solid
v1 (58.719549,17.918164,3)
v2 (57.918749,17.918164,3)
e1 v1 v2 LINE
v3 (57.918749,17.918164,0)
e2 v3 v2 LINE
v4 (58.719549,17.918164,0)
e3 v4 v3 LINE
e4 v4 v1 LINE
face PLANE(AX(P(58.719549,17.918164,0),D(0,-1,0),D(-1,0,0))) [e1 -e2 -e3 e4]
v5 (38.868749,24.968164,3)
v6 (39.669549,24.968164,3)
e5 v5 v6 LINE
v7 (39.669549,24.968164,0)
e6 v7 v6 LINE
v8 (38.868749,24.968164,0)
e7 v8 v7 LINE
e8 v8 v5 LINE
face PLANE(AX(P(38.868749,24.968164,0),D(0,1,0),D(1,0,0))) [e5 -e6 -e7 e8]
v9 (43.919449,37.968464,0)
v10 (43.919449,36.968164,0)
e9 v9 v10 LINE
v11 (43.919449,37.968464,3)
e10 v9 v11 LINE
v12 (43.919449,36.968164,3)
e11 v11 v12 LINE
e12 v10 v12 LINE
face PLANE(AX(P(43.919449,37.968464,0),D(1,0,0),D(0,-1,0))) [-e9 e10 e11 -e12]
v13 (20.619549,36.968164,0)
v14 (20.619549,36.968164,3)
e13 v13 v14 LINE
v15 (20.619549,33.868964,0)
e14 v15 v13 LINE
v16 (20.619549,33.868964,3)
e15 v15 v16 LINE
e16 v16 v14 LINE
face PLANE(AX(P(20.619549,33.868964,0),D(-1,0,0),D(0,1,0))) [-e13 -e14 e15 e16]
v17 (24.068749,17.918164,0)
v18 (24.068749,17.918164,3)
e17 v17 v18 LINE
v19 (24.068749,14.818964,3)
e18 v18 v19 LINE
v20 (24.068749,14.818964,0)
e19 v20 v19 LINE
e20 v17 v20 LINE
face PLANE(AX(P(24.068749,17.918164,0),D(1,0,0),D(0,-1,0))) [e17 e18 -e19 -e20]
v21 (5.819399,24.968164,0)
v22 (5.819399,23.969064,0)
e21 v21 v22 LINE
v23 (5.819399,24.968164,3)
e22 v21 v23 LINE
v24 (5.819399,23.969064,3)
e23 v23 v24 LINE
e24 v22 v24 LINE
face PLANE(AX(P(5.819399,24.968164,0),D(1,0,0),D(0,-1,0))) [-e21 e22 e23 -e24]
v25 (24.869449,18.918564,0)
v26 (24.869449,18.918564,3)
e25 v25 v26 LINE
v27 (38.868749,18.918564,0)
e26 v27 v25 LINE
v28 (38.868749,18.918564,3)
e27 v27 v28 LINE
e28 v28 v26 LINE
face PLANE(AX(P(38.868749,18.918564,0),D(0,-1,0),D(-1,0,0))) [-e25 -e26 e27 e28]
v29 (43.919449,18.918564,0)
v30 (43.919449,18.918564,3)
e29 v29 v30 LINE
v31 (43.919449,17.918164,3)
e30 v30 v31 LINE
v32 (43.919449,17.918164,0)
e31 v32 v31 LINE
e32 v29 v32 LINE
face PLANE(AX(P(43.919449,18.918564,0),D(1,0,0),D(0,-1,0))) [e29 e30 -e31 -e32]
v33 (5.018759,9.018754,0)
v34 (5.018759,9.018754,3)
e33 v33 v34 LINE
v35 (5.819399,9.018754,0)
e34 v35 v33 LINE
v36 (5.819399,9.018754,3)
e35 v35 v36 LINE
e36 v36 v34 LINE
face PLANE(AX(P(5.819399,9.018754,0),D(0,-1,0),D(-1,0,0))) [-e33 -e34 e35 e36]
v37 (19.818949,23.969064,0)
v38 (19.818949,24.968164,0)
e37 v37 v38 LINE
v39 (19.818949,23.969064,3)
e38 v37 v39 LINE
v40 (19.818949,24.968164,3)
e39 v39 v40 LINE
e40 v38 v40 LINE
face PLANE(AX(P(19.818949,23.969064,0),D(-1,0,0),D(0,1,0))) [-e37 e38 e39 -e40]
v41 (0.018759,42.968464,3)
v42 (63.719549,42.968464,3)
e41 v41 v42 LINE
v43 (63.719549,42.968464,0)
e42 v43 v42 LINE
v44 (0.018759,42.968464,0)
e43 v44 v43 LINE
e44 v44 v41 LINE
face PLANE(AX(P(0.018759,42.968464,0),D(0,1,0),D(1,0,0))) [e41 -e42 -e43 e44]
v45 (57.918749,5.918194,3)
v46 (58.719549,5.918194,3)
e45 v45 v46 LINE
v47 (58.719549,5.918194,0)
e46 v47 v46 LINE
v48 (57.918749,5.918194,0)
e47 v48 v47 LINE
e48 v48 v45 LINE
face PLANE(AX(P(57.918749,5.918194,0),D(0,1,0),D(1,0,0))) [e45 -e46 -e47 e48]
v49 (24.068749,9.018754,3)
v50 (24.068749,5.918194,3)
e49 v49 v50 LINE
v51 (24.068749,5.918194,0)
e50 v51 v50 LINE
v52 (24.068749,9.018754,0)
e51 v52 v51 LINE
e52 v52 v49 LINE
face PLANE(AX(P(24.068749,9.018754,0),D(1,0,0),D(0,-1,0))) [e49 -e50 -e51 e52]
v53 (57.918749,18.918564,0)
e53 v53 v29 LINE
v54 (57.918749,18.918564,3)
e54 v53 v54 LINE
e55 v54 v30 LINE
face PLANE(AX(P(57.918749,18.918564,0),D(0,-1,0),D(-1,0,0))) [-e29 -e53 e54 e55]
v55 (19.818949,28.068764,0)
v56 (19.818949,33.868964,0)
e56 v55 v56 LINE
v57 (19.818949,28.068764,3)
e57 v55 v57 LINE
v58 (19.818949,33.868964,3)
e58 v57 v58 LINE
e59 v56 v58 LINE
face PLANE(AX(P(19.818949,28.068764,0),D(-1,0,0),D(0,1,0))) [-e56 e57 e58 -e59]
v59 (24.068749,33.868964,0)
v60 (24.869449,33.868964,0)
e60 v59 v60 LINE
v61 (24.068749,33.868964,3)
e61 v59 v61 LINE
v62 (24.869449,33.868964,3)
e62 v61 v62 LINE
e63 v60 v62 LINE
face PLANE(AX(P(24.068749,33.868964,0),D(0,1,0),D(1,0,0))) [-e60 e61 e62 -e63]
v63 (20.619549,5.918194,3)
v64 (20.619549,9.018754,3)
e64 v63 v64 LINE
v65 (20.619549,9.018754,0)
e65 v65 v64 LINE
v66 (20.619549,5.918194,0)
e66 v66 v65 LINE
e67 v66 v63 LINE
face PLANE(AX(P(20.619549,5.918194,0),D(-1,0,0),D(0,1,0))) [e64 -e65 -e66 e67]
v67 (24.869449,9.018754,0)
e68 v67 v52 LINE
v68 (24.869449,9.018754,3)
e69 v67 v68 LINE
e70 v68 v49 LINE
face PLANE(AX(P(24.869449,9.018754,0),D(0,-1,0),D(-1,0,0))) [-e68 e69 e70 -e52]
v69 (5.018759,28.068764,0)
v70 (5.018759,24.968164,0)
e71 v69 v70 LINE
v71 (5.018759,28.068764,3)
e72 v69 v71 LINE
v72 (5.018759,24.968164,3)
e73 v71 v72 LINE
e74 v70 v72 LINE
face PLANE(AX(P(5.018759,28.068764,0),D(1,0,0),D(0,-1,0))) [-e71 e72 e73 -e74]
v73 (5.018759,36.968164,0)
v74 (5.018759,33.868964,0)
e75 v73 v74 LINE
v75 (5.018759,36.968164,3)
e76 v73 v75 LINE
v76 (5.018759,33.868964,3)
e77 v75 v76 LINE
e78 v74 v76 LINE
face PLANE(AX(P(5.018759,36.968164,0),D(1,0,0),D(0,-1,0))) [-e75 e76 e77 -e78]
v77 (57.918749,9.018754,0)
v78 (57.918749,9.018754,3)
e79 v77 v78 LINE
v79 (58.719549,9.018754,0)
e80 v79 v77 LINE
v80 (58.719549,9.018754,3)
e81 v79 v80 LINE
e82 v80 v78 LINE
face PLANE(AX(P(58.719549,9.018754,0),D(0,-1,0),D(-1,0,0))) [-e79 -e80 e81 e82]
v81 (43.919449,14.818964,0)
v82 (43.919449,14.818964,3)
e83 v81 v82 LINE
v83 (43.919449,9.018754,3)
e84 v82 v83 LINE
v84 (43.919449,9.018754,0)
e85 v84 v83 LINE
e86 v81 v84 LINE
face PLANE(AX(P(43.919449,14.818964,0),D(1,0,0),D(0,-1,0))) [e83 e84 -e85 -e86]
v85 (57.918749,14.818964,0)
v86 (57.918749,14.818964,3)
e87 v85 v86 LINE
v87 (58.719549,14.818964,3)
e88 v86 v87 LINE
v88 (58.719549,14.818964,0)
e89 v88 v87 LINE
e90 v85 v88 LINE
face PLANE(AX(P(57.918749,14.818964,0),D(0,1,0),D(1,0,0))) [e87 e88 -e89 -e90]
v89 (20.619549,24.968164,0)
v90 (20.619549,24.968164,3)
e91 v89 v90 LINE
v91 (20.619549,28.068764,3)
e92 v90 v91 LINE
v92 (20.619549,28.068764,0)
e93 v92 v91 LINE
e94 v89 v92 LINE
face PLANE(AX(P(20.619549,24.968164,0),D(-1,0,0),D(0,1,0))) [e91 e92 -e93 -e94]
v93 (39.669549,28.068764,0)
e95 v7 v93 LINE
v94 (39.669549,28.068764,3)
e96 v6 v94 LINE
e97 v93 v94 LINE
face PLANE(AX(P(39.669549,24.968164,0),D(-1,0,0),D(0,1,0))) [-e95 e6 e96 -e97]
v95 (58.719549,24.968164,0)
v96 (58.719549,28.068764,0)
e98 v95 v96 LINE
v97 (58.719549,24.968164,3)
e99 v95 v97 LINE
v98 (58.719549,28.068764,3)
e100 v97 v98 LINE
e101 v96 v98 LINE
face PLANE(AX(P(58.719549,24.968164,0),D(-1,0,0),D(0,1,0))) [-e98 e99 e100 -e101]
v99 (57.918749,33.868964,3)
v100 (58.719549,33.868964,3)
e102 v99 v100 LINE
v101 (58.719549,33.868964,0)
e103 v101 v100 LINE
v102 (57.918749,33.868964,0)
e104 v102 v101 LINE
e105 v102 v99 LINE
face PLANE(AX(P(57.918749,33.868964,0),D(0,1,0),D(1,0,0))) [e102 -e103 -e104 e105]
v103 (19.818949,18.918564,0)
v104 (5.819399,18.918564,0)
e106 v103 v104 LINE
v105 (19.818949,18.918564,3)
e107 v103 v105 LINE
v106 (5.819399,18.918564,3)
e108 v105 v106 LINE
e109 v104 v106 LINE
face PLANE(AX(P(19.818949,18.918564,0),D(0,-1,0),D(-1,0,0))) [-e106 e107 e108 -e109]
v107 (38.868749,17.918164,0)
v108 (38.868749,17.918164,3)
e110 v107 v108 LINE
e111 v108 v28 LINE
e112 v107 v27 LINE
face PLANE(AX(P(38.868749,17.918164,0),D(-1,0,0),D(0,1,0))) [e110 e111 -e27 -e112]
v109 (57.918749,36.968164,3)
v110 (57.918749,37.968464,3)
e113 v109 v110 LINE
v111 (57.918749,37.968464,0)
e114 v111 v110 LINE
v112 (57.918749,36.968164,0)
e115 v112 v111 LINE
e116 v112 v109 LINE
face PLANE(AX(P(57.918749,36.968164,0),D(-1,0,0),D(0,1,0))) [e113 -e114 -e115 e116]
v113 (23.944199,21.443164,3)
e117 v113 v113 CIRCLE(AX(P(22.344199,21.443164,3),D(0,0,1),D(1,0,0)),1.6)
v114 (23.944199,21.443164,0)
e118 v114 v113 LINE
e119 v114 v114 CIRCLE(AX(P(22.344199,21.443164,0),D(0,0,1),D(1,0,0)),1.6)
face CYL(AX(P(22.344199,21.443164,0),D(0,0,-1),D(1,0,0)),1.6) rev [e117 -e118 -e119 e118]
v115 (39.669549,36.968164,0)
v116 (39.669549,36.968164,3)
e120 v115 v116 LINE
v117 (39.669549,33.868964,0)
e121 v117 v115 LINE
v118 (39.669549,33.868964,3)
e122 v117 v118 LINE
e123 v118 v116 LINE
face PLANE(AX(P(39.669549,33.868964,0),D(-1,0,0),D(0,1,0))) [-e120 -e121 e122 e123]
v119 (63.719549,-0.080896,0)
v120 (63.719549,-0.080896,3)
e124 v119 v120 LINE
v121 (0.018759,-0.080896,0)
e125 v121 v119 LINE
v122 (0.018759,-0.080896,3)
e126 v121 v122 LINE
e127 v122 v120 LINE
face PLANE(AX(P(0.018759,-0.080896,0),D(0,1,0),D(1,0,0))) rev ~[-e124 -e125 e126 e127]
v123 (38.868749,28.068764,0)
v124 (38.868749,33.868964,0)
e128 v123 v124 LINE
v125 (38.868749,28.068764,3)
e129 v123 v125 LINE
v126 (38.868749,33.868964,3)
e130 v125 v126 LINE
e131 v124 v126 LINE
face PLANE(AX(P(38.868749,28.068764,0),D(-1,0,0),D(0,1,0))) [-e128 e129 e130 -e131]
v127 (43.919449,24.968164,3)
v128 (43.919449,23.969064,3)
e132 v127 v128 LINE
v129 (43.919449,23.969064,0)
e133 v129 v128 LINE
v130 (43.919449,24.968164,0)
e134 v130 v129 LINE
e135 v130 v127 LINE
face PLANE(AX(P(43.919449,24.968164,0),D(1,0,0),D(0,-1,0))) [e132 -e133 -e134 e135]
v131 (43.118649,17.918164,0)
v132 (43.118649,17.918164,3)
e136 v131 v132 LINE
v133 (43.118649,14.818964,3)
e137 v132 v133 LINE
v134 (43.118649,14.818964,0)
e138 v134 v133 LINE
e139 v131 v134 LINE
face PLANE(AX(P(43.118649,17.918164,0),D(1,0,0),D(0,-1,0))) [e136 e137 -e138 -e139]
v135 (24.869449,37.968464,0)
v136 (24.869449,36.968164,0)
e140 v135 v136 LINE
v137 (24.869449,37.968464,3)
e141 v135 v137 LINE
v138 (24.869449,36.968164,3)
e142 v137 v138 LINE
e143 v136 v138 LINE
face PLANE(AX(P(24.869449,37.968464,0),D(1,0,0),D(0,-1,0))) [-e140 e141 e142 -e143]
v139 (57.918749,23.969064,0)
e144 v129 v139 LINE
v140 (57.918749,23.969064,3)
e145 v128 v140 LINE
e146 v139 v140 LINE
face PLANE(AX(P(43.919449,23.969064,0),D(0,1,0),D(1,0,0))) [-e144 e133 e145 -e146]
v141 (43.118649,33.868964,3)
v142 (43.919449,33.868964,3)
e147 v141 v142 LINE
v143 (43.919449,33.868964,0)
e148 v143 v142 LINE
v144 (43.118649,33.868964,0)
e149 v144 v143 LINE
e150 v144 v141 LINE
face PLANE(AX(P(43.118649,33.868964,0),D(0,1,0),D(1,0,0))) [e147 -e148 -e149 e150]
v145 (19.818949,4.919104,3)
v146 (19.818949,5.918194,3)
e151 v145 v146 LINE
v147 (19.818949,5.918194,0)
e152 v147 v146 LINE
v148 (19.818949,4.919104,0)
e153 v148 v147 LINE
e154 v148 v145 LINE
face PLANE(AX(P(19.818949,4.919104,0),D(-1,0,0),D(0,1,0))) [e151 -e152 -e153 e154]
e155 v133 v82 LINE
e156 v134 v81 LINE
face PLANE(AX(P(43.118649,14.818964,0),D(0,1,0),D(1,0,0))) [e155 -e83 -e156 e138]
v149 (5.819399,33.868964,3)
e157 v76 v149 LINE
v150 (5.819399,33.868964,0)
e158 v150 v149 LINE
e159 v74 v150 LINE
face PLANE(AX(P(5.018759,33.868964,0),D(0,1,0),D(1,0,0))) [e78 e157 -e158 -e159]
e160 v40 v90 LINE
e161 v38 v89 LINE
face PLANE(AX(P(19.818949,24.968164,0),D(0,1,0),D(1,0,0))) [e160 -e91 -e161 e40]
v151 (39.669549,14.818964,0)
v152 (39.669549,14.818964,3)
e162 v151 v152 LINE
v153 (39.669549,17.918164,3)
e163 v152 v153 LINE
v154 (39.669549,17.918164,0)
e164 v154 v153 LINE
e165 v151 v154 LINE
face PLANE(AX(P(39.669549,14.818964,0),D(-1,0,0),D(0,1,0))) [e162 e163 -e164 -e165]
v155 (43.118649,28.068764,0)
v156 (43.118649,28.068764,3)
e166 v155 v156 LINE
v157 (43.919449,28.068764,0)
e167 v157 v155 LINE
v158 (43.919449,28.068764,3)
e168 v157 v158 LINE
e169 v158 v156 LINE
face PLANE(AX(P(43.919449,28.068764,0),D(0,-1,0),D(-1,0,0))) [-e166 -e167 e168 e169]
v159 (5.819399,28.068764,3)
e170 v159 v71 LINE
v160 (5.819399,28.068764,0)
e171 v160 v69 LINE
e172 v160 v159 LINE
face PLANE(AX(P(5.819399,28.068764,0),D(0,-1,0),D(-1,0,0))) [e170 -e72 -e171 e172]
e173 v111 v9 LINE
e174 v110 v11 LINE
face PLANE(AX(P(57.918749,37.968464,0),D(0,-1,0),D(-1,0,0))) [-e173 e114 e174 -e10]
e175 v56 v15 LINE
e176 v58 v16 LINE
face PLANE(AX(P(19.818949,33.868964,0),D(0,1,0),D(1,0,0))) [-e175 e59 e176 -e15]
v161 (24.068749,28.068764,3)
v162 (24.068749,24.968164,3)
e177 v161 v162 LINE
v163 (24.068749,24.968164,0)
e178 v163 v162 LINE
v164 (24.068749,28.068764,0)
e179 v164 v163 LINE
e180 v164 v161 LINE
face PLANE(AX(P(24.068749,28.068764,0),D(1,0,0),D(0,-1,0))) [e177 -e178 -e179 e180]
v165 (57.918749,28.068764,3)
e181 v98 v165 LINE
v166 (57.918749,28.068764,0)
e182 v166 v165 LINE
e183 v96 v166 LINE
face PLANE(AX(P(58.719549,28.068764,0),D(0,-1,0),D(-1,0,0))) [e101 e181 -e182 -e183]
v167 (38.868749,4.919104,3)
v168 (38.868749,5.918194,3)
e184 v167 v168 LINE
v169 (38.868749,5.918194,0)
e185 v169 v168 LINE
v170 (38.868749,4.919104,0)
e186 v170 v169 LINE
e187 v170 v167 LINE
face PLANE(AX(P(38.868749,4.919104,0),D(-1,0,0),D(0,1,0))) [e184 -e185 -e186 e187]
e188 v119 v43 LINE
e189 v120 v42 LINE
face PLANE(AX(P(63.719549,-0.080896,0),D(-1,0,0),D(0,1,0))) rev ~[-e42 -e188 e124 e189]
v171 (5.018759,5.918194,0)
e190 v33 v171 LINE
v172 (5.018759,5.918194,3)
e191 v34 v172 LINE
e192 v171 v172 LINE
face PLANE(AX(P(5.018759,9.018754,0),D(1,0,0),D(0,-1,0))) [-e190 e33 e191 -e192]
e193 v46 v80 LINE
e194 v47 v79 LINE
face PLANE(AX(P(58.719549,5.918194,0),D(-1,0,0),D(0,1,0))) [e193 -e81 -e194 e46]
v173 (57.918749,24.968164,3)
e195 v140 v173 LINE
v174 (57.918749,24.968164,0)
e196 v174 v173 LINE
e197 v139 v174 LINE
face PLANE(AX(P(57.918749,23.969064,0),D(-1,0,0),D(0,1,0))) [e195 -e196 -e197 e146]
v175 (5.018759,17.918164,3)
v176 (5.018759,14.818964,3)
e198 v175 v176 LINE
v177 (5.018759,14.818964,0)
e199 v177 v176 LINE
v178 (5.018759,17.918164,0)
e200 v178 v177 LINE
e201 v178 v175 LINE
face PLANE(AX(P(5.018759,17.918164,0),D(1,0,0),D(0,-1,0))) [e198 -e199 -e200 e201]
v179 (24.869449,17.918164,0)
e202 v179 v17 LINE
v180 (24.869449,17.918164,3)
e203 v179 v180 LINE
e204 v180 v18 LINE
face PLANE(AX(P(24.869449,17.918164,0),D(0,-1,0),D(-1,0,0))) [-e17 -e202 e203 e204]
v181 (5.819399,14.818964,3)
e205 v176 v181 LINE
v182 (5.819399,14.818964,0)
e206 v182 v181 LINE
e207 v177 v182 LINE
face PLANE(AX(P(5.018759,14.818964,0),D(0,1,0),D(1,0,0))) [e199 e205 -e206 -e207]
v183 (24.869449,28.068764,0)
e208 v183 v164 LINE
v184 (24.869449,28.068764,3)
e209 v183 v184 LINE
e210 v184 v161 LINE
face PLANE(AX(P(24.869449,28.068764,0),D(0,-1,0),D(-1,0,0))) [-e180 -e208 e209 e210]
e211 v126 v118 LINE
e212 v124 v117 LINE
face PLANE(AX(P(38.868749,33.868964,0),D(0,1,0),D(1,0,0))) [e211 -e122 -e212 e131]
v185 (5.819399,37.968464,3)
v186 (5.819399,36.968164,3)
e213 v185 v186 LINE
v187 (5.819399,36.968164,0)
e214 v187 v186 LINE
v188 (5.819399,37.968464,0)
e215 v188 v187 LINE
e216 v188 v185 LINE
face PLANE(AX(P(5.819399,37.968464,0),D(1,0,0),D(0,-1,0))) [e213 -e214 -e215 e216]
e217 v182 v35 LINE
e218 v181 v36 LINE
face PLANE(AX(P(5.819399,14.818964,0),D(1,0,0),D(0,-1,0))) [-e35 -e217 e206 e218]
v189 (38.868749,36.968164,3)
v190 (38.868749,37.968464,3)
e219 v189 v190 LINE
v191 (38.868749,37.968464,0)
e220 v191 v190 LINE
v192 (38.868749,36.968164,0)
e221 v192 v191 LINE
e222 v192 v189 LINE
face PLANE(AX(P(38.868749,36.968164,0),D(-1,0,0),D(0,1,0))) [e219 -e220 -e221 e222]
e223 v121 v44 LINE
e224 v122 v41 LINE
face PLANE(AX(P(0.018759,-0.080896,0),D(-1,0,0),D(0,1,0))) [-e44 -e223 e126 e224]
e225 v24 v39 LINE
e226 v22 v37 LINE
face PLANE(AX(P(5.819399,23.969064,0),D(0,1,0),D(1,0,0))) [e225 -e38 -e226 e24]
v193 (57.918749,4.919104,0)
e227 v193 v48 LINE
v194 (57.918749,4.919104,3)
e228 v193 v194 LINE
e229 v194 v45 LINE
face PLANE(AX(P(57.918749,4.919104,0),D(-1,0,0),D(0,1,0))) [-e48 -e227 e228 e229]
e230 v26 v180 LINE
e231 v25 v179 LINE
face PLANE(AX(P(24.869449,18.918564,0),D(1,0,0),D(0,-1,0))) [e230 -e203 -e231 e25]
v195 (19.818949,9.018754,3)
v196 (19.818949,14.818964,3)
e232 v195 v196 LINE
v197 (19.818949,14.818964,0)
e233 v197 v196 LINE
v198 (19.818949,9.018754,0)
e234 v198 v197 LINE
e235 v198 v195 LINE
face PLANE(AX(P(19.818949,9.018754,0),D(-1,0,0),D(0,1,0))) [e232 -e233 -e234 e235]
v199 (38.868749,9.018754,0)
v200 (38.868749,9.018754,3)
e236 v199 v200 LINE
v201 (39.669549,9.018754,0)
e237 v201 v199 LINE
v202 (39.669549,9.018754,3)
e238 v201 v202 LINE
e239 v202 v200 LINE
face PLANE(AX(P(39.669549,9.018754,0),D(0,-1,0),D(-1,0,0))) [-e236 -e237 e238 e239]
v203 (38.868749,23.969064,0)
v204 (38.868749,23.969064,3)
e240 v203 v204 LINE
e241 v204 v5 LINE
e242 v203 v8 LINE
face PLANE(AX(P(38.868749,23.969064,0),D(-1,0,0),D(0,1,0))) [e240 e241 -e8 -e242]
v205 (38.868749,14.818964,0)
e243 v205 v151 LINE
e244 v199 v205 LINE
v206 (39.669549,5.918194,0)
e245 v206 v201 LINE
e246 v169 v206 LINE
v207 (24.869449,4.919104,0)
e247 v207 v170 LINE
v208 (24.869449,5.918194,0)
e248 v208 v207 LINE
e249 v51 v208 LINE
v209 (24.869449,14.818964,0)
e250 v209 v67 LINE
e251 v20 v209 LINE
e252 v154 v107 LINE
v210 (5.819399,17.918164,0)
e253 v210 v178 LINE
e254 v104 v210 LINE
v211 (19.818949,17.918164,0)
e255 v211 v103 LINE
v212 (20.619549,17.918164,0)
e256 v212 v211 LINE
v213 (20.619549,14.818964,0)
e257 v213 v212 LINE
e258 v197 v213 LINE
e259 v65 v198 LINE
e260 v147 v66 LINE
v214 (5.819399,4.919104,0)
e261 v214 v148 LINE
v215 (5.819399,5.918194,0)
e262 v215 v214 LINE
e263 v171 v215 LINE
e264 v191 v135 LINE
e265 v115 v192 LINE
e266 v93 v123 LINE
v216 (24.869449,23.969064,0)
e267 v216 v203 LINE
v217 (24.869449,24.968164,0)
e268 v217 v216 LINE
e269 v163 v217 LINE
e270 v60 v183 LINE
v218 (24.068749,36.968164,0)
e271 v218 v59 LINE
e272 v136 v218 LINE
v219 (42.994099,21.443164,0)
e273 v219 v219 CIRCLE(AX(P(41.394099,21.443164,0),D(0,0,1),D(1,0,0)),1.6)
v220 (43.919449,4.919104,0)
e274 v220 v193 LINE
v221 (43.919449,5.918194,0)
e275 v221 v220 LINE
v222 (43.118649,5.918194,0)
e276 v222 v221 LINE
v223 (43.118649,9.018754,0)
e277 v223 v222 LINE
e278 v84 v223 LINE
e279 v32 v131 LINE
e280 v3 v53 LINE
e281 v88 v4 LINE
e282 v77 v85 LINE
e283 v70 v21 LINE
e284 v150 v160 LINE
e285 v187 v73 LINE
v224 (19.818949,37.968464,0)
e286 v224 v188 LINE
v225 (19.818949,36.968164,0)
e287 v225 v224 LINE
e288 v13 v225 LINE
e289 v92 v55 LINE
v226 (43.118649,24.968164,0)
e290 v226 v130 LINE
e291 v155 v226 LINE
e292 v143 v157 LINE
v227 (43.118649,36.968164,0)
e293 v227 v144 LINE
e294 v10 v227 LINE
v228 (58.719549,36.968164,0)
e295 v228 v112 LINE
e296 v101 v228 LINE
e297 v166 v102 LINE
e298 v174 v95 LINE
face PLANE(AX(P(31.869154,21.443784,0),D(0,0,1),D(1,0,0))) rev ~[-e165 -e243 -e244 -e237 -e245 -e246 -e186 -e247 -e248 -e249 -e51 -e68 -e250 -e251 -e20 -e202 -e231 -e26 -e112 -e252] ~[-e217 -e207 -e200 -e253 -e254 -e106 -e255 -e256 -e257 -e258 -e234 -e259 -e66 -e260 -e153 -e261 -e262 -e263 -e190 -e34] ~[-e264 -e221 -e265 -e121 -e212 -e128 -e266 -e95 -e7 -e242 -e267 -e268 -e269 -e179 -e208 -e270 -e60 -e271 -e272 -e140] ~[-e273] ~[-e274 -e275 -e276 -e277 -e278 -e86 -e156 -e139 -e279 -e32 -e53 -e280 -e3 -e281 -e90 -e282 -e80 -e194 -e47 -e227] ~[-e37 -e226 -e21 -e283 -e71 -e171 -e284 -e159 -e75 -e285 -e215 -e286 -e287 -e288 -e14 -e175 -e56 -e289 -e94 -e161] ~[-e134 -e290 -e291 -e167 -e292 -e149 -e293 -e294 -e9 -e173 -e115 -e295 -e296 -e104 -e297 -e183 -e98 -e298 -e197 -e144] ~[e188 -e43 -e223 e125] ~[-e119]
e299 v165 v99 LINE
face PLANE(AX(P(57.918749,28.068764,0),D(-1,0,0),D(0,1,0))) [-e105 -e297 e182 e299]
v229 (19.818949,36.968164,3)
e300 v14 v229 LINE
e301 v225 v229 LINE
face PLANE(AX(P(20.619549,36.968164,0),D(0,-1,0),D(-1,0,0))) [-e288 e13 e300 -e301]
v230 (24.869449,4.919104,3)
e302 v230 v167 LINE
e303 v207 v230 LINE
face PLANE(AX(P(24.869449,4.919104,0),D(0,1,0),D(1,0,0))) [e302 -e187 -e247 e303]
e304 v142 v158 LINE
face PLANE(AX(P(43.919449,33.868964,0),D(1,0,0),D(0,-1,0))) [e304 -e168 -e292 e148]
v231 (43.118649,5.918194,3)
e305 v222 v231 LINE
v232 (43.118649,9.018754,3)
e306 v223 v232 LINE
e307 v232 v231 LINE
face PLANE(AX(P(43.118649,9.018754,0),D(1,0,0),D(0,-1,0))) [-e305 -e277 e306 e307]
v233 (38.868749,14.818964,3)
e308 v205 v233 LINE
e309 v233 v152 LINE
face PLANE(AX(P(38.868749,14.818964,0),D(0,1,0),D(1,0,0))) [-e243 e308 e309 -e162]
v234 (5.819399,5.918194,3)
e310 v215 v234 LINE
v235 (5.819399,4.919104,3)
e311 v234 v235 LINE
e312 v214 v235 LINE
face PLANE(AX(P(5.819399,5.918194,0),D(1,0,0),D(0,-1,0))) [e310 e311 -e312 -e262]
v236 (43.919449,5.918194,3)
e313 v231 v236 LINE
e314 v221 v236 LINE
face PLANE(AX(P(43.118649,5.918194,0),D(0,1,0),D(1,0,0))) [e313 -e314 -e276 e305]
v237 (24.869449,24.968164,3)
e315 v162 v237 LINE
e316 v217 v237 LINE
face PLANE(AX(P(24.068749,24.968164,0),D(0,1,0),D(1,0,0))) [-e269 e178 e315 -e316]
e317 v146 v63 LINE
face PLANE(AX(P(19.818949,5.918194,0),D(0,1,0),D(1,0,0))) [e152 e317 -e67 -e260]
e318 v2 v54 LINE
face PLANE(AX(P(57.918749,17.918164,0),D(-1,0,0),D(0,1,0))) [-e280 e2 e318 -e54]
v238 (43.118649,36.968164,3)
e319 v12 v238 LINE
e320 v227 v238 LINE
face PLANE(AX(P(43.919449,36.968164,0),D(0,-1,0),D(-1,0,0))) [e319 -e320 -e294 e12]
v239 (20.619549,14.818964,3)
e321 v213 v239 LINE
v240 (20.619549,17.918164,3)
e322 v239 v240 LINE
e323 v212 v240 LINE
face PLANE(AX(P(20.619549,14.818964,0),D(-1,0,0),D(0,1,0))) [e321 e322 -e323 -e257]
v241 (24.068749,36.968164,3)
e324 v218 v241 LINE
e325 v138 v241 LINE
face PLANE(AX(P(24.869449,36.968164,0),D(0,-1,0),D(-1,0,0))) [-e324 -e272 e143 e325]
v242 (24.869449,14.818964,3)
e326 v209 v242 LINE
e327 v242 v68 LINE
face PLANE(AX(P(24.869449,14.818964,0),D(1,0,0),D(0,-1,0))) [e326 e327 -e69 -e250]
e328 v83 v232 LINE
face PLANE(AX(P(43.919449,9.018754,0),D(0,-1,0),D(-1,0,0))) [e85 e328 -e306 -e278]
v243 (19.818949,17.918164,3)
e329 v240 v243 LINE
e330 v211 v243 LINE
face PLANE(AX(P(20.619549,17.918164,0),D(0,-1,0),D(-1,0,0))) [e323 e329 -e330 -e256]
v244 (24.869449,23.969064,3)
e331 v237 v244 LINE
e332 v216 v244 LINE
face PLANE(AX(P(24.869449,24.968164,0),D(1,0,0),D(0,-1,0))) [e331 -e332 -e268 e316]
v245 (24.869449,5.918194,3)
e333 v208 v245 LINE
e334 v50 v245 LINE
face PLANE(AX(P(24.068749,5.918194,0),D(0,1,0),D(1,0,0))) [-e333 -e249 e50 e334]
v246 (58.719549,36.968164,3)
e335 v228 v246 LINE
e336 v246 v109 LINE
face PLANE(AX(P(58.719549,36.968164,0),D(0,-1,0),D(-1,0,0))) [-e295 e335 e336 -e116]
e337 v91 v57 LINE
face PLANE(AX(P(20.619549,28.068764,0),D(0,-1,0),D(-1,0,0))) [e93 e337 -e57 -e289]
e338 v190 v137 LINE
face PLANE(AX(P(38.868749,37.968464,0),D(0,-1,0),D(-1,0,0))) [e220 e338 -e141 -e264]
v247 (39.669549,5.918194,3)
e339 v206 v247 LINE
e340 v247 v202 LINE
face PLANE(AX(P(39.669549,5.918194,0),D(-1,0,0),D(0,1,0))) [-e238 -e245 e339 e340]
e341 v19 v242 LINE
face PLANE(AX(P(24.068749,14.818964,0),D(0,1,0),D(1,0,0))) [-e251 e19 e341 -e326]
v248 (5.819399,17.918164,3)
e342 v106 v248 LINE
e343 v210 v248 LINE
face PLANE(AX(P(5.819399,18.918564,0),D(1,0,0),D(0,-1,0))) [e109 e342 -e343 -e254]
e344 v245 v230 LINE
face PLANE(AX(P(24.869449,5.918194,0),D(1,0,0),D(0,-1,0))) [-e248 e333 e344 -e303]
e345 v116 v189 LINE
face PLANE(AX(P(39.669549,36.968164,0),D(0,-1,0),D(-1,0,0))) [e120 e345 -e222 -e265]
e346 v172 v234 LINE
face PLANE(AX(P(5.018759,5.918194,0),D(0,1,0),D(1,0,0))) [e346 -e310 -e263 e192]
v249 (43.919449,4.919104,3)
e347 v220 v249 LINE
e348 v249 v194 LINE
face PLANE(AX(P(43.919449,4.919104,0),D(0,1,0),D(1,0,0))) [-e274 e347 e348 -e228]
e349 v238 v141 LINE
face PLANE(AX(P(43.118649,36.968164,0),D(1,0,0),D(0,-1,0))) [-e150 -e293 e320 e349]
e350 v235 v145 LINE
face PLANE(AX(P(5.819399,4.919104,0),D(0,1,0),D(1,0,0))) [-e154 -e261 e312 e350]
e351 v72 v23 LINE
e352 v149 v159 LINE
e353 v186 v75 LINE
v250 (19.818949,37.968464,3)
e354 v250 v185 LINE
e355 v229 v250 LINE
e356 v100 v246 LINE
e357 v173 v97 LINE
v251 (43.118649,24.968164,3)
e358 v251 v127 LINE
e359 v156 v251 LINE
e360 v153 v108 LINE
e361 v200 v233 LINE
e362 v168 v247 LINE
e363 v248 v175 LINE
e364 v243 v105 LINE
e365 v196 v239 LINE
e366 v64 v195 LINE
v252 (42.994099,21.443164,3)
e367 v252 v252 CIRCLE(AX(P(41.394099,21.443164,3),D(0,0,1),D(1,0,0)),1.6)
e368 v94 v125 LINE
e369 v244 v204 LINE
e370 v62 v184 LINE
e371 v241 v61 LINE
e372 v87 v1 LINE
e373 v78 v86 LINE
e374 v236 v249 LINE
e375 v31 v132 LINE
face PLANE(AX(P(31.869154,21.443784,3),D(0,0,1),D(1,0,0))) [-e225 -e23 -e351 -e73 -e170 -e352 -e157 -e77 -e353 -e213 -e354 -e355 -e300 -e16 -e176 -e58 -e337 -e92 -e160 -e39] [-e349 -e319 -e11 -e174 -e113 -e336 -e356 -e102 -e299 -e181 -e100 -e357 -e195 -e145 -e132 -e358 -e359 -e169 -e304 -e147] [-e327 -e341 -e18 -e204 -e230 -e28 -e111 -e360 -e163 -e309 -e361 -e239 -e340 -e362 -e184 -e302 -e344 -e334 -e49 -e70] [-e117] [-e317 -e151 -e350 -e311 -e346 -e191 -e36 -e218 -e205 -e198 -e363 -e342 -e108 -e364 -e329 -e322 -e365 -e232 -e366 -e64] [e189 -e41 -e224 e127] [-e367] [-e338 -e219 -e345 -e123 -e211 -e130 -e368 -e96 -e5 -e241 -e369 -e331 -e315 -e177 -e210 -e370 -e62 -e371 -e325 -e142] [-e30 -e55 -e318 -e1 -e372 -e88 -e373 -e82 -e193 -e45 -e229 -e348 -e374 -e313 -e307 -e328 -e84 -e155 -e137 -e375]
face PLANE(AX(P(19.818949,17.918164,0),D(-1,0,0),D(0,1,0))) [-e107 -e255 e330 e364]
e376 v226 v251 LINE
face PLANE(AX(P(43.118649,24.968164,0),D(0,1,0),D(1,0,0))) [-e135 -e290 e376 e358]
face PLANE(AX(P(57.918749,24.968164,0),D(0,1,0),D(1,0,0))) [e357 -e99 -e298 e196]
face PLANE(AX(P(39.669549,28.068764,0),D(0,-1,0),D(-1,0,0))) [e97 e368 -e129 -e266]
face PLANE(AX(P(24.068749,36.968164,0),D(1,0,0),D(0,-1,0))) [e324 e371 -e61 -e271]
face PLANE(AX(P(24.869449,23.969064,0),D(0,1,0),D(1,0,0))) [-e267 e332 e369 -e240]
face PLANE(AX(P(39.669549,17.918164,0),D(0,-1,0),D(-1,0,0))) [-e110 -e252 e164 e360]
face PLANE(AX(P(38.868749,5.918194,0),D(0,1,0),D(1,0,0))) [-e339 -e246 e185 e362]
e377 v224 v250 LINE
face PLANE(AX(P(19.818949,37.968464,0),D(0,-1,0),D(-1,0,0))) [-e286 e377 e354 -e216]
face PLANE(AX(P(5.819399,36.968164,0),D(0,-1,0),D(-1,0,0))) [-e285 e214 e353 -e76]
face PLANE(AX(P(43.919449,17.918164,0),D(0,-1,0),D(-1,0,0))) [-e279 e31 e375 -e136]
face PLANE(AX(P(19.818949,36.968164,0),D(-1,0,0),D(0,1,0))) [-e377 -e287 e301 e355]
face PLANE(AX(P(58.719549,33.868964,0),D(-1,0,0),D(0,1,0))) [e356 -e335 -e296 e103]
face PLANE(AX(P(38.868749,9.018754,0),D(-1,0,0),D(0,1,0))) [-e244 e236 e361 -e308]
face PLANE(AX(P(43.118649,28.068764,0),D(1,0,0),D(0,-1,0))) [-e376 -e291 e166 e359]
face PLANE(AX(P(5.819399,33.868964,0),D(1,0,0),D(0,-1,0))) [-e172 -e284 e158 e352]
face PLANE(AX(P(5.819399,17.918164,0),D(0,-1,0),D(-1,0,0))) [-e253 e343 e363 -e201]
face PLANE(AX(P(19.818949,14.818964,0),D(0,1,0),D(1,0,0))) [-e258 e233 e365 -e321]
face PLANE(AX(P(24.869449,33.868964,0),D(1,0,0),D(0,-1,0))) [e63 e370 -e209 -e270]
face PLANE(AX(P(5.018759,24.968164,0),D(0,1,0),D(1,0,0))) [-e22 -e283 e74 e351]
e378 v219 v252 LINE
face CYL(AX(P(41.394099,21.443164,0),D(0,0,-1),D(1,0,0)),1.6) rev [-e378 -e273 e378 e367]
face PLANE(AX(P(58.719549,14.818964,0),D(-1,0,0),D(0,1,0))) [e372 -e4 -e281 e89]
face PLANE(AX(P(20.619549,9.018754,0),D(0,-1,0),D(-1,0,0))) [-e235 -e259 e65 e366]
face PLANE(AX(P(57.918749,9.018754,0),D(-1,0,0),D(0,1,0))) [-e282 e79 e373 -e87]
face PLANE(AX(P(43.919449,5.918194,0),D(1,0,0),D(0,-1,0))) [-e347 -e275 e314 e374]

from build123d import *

# Parameters (mm, degrees)
MODEL_W         = 63.70079
MODEL_H         = 43.04936
MODEL_R         = 1.6
EXTRUDE_1_DEPTH = 3


with BuildPart() as part:
    # Model → 凸台-拉伸1 (new body)
    with BuildSketch(Plane.XY):
        with Locations((31.869154462, 21.443783961)):
            Rectangle(MODEL_W, MODEL_H)
        with Locations((22.344199462, 21.443163961)):
            Circle(MODEL_R, mode=Mode.SUBTRACT)
        with Locations((41.394099462, 21.443163961)):
            Circle(MODEL_R, mode=Mode.SUBTRACT)
        Polygon((43.919449462, 18.918563961), (43.919449462, 17.918163961), (43.118649462, 17.918163961), (43.118649462, 14.818963961), (43.919449462, 14.818963961), (43.919449462, 9.018753961), (43.118649462, 9.018753961), (43.118649462, 5.918193961), (43.919449462, 5.918193961), (43.919449462, 4.919103961), (57.918749462, 4.919103961), (57.918749462, 5.918193961), (58.719549462, 5.918193961), (58.719549462, 9.018753961), (57.918749462, 9.018753961), (57.918749462, 14.818963961), (58.719549462, 14.818963961), (58.719549462, 17.918163961), (57.918749462, 17.918163961), (57.918749462, 18.918563961), align=None, mode=Mode.SUBTRACT)
        Polygon((24.869449462, 18.918563961), (24.869449462, 17.918163961), (24.068749462, 17.918163961), (24.068749462, 14.818963961), (24.869449462, 14.818963961), (24.869449462, 9.018753961), (24.068749462, 9.018753961), (24.068749462, 5.918193961), (24.869449462, 5.918193961), (24.869449462, 4.919103961), (38.868749462, 4.919103961), (38.868749462, 5.918193961), (39.669549462, 5.918193961), (39.669549462, 9.018753961), (38.868749462, 9.018753961), (38.868749462, 14.818963961), (39.669549462, 14.818963961), (39.669549462, 17.918163961), (38.868749462, 17.918163961), (38.868749462, 18.918563961), align=None, mode=Mode.SUBTRACT)
        Polygon((5.819399462, 18.918563961), (5.819399462, 17.918163961), (5.018759462, 17.918163961), (5.018759462, 14.818963961), (5.819399462, 14.818963961), (5.819399462, 9.018753961), (5.018759462, 9.018753961), (5.018759462, 5.918193961), (5.819399462, 5.918193961), (5.819399462, 4.919103961), (19.818949462, 4.919103961), (19.818949462, 5.918193961), (20.619549462, 5.918193961), (20.619549462, 9.018753961), (19.818949462, 9.018753961), (19.818949462, 14.818963961), (20.619549462, 14.818963961), (20.619549462, 17.918163961), (19.818949462, 17.918163961), (19.818949462, 18.918563961), align=None, mode=Mode.SUBTRACT)
        Polygon((43.919449462, 37.968463961), (43.919449462, 36.968163961), (43.118649462, 36.968163961), (43.118649462, 33.868963961), (43.919449462, 33.868963961), (43.919449462, 28.068763961), (43.118649462, 28.068763961), (43.118649462, 24.968163961), (43.919449462, 24.968163961), (43.919449462, 23.969063961), (57.918749462, 23.969063961), (57.918749462, 24.968163961), (58.719549462, 24.968163961), (58.719549462, 28.068763961), (57.918749462, 28.068763961), (57.918749462, 33.868963961), (58.719549462, 33.868963961), (58.719549462, 36.968163961), (57.918749462, 36.968163961), (57.918749462, 37.968463961), align=None, mode=Mode.SUBTRACT)
        Polygon((24.869449462, 37.968463961), (24.869449462, 36.968163961), (24.068749462, 36.968163961), (24.068749462, 33.868963961), (24.869449462, 33.868963961), (24.869449462, 28.068763961), (24.068749462, 28.068763961), (24.068749462, 24.968163961), (24.869449462, 24.968163961), (24.869449462, 23.969063961), (38.868749462, 23.969063961), (38.868749462, 24.968163961), (39.669549462, 24.968163961), (39.669549462, 28.068763961), (38.868749462, 28.068763961), (38.868749462, 33.868963961), (39.669549462, 33.868963961), (39.669549462, 36.968163961), (38.868749462, 36.968163961), (38.868749462, 37.968463961), align=None, mode=Mode.SUBTRACT)
        Polygon((5.819399462, 37.968463961), (5.819399462, 36.968163961), (5.018759462, 36.968163961), (5.018759462, 33.868963961), (5.819399462, 33.868963961), (5.819399462, 28.068763961), (5.018759462, 28.068763961), (5.018759462, 24.968163961), (5.819399462, 24.968163961), (5.819399462, 23.969063961), (19.818949462, 23.969063961), (19.818949462, 24.968163961), (20.619549462, 24.968163961), (20.619549462, 28.068763961), (19.818949462, 28.068763961), (19.818949462, 33.868963961), (20.619549462, 33.868963961), (20.619549462, 36.968163961), (19.818949462, 36.968163961), (19.818949462, 37.968463961), align=None, mode=Mode.SUBTRACT)
    extrude(amount=EXTRUDE_1_DEPTH)


solid = part.part
